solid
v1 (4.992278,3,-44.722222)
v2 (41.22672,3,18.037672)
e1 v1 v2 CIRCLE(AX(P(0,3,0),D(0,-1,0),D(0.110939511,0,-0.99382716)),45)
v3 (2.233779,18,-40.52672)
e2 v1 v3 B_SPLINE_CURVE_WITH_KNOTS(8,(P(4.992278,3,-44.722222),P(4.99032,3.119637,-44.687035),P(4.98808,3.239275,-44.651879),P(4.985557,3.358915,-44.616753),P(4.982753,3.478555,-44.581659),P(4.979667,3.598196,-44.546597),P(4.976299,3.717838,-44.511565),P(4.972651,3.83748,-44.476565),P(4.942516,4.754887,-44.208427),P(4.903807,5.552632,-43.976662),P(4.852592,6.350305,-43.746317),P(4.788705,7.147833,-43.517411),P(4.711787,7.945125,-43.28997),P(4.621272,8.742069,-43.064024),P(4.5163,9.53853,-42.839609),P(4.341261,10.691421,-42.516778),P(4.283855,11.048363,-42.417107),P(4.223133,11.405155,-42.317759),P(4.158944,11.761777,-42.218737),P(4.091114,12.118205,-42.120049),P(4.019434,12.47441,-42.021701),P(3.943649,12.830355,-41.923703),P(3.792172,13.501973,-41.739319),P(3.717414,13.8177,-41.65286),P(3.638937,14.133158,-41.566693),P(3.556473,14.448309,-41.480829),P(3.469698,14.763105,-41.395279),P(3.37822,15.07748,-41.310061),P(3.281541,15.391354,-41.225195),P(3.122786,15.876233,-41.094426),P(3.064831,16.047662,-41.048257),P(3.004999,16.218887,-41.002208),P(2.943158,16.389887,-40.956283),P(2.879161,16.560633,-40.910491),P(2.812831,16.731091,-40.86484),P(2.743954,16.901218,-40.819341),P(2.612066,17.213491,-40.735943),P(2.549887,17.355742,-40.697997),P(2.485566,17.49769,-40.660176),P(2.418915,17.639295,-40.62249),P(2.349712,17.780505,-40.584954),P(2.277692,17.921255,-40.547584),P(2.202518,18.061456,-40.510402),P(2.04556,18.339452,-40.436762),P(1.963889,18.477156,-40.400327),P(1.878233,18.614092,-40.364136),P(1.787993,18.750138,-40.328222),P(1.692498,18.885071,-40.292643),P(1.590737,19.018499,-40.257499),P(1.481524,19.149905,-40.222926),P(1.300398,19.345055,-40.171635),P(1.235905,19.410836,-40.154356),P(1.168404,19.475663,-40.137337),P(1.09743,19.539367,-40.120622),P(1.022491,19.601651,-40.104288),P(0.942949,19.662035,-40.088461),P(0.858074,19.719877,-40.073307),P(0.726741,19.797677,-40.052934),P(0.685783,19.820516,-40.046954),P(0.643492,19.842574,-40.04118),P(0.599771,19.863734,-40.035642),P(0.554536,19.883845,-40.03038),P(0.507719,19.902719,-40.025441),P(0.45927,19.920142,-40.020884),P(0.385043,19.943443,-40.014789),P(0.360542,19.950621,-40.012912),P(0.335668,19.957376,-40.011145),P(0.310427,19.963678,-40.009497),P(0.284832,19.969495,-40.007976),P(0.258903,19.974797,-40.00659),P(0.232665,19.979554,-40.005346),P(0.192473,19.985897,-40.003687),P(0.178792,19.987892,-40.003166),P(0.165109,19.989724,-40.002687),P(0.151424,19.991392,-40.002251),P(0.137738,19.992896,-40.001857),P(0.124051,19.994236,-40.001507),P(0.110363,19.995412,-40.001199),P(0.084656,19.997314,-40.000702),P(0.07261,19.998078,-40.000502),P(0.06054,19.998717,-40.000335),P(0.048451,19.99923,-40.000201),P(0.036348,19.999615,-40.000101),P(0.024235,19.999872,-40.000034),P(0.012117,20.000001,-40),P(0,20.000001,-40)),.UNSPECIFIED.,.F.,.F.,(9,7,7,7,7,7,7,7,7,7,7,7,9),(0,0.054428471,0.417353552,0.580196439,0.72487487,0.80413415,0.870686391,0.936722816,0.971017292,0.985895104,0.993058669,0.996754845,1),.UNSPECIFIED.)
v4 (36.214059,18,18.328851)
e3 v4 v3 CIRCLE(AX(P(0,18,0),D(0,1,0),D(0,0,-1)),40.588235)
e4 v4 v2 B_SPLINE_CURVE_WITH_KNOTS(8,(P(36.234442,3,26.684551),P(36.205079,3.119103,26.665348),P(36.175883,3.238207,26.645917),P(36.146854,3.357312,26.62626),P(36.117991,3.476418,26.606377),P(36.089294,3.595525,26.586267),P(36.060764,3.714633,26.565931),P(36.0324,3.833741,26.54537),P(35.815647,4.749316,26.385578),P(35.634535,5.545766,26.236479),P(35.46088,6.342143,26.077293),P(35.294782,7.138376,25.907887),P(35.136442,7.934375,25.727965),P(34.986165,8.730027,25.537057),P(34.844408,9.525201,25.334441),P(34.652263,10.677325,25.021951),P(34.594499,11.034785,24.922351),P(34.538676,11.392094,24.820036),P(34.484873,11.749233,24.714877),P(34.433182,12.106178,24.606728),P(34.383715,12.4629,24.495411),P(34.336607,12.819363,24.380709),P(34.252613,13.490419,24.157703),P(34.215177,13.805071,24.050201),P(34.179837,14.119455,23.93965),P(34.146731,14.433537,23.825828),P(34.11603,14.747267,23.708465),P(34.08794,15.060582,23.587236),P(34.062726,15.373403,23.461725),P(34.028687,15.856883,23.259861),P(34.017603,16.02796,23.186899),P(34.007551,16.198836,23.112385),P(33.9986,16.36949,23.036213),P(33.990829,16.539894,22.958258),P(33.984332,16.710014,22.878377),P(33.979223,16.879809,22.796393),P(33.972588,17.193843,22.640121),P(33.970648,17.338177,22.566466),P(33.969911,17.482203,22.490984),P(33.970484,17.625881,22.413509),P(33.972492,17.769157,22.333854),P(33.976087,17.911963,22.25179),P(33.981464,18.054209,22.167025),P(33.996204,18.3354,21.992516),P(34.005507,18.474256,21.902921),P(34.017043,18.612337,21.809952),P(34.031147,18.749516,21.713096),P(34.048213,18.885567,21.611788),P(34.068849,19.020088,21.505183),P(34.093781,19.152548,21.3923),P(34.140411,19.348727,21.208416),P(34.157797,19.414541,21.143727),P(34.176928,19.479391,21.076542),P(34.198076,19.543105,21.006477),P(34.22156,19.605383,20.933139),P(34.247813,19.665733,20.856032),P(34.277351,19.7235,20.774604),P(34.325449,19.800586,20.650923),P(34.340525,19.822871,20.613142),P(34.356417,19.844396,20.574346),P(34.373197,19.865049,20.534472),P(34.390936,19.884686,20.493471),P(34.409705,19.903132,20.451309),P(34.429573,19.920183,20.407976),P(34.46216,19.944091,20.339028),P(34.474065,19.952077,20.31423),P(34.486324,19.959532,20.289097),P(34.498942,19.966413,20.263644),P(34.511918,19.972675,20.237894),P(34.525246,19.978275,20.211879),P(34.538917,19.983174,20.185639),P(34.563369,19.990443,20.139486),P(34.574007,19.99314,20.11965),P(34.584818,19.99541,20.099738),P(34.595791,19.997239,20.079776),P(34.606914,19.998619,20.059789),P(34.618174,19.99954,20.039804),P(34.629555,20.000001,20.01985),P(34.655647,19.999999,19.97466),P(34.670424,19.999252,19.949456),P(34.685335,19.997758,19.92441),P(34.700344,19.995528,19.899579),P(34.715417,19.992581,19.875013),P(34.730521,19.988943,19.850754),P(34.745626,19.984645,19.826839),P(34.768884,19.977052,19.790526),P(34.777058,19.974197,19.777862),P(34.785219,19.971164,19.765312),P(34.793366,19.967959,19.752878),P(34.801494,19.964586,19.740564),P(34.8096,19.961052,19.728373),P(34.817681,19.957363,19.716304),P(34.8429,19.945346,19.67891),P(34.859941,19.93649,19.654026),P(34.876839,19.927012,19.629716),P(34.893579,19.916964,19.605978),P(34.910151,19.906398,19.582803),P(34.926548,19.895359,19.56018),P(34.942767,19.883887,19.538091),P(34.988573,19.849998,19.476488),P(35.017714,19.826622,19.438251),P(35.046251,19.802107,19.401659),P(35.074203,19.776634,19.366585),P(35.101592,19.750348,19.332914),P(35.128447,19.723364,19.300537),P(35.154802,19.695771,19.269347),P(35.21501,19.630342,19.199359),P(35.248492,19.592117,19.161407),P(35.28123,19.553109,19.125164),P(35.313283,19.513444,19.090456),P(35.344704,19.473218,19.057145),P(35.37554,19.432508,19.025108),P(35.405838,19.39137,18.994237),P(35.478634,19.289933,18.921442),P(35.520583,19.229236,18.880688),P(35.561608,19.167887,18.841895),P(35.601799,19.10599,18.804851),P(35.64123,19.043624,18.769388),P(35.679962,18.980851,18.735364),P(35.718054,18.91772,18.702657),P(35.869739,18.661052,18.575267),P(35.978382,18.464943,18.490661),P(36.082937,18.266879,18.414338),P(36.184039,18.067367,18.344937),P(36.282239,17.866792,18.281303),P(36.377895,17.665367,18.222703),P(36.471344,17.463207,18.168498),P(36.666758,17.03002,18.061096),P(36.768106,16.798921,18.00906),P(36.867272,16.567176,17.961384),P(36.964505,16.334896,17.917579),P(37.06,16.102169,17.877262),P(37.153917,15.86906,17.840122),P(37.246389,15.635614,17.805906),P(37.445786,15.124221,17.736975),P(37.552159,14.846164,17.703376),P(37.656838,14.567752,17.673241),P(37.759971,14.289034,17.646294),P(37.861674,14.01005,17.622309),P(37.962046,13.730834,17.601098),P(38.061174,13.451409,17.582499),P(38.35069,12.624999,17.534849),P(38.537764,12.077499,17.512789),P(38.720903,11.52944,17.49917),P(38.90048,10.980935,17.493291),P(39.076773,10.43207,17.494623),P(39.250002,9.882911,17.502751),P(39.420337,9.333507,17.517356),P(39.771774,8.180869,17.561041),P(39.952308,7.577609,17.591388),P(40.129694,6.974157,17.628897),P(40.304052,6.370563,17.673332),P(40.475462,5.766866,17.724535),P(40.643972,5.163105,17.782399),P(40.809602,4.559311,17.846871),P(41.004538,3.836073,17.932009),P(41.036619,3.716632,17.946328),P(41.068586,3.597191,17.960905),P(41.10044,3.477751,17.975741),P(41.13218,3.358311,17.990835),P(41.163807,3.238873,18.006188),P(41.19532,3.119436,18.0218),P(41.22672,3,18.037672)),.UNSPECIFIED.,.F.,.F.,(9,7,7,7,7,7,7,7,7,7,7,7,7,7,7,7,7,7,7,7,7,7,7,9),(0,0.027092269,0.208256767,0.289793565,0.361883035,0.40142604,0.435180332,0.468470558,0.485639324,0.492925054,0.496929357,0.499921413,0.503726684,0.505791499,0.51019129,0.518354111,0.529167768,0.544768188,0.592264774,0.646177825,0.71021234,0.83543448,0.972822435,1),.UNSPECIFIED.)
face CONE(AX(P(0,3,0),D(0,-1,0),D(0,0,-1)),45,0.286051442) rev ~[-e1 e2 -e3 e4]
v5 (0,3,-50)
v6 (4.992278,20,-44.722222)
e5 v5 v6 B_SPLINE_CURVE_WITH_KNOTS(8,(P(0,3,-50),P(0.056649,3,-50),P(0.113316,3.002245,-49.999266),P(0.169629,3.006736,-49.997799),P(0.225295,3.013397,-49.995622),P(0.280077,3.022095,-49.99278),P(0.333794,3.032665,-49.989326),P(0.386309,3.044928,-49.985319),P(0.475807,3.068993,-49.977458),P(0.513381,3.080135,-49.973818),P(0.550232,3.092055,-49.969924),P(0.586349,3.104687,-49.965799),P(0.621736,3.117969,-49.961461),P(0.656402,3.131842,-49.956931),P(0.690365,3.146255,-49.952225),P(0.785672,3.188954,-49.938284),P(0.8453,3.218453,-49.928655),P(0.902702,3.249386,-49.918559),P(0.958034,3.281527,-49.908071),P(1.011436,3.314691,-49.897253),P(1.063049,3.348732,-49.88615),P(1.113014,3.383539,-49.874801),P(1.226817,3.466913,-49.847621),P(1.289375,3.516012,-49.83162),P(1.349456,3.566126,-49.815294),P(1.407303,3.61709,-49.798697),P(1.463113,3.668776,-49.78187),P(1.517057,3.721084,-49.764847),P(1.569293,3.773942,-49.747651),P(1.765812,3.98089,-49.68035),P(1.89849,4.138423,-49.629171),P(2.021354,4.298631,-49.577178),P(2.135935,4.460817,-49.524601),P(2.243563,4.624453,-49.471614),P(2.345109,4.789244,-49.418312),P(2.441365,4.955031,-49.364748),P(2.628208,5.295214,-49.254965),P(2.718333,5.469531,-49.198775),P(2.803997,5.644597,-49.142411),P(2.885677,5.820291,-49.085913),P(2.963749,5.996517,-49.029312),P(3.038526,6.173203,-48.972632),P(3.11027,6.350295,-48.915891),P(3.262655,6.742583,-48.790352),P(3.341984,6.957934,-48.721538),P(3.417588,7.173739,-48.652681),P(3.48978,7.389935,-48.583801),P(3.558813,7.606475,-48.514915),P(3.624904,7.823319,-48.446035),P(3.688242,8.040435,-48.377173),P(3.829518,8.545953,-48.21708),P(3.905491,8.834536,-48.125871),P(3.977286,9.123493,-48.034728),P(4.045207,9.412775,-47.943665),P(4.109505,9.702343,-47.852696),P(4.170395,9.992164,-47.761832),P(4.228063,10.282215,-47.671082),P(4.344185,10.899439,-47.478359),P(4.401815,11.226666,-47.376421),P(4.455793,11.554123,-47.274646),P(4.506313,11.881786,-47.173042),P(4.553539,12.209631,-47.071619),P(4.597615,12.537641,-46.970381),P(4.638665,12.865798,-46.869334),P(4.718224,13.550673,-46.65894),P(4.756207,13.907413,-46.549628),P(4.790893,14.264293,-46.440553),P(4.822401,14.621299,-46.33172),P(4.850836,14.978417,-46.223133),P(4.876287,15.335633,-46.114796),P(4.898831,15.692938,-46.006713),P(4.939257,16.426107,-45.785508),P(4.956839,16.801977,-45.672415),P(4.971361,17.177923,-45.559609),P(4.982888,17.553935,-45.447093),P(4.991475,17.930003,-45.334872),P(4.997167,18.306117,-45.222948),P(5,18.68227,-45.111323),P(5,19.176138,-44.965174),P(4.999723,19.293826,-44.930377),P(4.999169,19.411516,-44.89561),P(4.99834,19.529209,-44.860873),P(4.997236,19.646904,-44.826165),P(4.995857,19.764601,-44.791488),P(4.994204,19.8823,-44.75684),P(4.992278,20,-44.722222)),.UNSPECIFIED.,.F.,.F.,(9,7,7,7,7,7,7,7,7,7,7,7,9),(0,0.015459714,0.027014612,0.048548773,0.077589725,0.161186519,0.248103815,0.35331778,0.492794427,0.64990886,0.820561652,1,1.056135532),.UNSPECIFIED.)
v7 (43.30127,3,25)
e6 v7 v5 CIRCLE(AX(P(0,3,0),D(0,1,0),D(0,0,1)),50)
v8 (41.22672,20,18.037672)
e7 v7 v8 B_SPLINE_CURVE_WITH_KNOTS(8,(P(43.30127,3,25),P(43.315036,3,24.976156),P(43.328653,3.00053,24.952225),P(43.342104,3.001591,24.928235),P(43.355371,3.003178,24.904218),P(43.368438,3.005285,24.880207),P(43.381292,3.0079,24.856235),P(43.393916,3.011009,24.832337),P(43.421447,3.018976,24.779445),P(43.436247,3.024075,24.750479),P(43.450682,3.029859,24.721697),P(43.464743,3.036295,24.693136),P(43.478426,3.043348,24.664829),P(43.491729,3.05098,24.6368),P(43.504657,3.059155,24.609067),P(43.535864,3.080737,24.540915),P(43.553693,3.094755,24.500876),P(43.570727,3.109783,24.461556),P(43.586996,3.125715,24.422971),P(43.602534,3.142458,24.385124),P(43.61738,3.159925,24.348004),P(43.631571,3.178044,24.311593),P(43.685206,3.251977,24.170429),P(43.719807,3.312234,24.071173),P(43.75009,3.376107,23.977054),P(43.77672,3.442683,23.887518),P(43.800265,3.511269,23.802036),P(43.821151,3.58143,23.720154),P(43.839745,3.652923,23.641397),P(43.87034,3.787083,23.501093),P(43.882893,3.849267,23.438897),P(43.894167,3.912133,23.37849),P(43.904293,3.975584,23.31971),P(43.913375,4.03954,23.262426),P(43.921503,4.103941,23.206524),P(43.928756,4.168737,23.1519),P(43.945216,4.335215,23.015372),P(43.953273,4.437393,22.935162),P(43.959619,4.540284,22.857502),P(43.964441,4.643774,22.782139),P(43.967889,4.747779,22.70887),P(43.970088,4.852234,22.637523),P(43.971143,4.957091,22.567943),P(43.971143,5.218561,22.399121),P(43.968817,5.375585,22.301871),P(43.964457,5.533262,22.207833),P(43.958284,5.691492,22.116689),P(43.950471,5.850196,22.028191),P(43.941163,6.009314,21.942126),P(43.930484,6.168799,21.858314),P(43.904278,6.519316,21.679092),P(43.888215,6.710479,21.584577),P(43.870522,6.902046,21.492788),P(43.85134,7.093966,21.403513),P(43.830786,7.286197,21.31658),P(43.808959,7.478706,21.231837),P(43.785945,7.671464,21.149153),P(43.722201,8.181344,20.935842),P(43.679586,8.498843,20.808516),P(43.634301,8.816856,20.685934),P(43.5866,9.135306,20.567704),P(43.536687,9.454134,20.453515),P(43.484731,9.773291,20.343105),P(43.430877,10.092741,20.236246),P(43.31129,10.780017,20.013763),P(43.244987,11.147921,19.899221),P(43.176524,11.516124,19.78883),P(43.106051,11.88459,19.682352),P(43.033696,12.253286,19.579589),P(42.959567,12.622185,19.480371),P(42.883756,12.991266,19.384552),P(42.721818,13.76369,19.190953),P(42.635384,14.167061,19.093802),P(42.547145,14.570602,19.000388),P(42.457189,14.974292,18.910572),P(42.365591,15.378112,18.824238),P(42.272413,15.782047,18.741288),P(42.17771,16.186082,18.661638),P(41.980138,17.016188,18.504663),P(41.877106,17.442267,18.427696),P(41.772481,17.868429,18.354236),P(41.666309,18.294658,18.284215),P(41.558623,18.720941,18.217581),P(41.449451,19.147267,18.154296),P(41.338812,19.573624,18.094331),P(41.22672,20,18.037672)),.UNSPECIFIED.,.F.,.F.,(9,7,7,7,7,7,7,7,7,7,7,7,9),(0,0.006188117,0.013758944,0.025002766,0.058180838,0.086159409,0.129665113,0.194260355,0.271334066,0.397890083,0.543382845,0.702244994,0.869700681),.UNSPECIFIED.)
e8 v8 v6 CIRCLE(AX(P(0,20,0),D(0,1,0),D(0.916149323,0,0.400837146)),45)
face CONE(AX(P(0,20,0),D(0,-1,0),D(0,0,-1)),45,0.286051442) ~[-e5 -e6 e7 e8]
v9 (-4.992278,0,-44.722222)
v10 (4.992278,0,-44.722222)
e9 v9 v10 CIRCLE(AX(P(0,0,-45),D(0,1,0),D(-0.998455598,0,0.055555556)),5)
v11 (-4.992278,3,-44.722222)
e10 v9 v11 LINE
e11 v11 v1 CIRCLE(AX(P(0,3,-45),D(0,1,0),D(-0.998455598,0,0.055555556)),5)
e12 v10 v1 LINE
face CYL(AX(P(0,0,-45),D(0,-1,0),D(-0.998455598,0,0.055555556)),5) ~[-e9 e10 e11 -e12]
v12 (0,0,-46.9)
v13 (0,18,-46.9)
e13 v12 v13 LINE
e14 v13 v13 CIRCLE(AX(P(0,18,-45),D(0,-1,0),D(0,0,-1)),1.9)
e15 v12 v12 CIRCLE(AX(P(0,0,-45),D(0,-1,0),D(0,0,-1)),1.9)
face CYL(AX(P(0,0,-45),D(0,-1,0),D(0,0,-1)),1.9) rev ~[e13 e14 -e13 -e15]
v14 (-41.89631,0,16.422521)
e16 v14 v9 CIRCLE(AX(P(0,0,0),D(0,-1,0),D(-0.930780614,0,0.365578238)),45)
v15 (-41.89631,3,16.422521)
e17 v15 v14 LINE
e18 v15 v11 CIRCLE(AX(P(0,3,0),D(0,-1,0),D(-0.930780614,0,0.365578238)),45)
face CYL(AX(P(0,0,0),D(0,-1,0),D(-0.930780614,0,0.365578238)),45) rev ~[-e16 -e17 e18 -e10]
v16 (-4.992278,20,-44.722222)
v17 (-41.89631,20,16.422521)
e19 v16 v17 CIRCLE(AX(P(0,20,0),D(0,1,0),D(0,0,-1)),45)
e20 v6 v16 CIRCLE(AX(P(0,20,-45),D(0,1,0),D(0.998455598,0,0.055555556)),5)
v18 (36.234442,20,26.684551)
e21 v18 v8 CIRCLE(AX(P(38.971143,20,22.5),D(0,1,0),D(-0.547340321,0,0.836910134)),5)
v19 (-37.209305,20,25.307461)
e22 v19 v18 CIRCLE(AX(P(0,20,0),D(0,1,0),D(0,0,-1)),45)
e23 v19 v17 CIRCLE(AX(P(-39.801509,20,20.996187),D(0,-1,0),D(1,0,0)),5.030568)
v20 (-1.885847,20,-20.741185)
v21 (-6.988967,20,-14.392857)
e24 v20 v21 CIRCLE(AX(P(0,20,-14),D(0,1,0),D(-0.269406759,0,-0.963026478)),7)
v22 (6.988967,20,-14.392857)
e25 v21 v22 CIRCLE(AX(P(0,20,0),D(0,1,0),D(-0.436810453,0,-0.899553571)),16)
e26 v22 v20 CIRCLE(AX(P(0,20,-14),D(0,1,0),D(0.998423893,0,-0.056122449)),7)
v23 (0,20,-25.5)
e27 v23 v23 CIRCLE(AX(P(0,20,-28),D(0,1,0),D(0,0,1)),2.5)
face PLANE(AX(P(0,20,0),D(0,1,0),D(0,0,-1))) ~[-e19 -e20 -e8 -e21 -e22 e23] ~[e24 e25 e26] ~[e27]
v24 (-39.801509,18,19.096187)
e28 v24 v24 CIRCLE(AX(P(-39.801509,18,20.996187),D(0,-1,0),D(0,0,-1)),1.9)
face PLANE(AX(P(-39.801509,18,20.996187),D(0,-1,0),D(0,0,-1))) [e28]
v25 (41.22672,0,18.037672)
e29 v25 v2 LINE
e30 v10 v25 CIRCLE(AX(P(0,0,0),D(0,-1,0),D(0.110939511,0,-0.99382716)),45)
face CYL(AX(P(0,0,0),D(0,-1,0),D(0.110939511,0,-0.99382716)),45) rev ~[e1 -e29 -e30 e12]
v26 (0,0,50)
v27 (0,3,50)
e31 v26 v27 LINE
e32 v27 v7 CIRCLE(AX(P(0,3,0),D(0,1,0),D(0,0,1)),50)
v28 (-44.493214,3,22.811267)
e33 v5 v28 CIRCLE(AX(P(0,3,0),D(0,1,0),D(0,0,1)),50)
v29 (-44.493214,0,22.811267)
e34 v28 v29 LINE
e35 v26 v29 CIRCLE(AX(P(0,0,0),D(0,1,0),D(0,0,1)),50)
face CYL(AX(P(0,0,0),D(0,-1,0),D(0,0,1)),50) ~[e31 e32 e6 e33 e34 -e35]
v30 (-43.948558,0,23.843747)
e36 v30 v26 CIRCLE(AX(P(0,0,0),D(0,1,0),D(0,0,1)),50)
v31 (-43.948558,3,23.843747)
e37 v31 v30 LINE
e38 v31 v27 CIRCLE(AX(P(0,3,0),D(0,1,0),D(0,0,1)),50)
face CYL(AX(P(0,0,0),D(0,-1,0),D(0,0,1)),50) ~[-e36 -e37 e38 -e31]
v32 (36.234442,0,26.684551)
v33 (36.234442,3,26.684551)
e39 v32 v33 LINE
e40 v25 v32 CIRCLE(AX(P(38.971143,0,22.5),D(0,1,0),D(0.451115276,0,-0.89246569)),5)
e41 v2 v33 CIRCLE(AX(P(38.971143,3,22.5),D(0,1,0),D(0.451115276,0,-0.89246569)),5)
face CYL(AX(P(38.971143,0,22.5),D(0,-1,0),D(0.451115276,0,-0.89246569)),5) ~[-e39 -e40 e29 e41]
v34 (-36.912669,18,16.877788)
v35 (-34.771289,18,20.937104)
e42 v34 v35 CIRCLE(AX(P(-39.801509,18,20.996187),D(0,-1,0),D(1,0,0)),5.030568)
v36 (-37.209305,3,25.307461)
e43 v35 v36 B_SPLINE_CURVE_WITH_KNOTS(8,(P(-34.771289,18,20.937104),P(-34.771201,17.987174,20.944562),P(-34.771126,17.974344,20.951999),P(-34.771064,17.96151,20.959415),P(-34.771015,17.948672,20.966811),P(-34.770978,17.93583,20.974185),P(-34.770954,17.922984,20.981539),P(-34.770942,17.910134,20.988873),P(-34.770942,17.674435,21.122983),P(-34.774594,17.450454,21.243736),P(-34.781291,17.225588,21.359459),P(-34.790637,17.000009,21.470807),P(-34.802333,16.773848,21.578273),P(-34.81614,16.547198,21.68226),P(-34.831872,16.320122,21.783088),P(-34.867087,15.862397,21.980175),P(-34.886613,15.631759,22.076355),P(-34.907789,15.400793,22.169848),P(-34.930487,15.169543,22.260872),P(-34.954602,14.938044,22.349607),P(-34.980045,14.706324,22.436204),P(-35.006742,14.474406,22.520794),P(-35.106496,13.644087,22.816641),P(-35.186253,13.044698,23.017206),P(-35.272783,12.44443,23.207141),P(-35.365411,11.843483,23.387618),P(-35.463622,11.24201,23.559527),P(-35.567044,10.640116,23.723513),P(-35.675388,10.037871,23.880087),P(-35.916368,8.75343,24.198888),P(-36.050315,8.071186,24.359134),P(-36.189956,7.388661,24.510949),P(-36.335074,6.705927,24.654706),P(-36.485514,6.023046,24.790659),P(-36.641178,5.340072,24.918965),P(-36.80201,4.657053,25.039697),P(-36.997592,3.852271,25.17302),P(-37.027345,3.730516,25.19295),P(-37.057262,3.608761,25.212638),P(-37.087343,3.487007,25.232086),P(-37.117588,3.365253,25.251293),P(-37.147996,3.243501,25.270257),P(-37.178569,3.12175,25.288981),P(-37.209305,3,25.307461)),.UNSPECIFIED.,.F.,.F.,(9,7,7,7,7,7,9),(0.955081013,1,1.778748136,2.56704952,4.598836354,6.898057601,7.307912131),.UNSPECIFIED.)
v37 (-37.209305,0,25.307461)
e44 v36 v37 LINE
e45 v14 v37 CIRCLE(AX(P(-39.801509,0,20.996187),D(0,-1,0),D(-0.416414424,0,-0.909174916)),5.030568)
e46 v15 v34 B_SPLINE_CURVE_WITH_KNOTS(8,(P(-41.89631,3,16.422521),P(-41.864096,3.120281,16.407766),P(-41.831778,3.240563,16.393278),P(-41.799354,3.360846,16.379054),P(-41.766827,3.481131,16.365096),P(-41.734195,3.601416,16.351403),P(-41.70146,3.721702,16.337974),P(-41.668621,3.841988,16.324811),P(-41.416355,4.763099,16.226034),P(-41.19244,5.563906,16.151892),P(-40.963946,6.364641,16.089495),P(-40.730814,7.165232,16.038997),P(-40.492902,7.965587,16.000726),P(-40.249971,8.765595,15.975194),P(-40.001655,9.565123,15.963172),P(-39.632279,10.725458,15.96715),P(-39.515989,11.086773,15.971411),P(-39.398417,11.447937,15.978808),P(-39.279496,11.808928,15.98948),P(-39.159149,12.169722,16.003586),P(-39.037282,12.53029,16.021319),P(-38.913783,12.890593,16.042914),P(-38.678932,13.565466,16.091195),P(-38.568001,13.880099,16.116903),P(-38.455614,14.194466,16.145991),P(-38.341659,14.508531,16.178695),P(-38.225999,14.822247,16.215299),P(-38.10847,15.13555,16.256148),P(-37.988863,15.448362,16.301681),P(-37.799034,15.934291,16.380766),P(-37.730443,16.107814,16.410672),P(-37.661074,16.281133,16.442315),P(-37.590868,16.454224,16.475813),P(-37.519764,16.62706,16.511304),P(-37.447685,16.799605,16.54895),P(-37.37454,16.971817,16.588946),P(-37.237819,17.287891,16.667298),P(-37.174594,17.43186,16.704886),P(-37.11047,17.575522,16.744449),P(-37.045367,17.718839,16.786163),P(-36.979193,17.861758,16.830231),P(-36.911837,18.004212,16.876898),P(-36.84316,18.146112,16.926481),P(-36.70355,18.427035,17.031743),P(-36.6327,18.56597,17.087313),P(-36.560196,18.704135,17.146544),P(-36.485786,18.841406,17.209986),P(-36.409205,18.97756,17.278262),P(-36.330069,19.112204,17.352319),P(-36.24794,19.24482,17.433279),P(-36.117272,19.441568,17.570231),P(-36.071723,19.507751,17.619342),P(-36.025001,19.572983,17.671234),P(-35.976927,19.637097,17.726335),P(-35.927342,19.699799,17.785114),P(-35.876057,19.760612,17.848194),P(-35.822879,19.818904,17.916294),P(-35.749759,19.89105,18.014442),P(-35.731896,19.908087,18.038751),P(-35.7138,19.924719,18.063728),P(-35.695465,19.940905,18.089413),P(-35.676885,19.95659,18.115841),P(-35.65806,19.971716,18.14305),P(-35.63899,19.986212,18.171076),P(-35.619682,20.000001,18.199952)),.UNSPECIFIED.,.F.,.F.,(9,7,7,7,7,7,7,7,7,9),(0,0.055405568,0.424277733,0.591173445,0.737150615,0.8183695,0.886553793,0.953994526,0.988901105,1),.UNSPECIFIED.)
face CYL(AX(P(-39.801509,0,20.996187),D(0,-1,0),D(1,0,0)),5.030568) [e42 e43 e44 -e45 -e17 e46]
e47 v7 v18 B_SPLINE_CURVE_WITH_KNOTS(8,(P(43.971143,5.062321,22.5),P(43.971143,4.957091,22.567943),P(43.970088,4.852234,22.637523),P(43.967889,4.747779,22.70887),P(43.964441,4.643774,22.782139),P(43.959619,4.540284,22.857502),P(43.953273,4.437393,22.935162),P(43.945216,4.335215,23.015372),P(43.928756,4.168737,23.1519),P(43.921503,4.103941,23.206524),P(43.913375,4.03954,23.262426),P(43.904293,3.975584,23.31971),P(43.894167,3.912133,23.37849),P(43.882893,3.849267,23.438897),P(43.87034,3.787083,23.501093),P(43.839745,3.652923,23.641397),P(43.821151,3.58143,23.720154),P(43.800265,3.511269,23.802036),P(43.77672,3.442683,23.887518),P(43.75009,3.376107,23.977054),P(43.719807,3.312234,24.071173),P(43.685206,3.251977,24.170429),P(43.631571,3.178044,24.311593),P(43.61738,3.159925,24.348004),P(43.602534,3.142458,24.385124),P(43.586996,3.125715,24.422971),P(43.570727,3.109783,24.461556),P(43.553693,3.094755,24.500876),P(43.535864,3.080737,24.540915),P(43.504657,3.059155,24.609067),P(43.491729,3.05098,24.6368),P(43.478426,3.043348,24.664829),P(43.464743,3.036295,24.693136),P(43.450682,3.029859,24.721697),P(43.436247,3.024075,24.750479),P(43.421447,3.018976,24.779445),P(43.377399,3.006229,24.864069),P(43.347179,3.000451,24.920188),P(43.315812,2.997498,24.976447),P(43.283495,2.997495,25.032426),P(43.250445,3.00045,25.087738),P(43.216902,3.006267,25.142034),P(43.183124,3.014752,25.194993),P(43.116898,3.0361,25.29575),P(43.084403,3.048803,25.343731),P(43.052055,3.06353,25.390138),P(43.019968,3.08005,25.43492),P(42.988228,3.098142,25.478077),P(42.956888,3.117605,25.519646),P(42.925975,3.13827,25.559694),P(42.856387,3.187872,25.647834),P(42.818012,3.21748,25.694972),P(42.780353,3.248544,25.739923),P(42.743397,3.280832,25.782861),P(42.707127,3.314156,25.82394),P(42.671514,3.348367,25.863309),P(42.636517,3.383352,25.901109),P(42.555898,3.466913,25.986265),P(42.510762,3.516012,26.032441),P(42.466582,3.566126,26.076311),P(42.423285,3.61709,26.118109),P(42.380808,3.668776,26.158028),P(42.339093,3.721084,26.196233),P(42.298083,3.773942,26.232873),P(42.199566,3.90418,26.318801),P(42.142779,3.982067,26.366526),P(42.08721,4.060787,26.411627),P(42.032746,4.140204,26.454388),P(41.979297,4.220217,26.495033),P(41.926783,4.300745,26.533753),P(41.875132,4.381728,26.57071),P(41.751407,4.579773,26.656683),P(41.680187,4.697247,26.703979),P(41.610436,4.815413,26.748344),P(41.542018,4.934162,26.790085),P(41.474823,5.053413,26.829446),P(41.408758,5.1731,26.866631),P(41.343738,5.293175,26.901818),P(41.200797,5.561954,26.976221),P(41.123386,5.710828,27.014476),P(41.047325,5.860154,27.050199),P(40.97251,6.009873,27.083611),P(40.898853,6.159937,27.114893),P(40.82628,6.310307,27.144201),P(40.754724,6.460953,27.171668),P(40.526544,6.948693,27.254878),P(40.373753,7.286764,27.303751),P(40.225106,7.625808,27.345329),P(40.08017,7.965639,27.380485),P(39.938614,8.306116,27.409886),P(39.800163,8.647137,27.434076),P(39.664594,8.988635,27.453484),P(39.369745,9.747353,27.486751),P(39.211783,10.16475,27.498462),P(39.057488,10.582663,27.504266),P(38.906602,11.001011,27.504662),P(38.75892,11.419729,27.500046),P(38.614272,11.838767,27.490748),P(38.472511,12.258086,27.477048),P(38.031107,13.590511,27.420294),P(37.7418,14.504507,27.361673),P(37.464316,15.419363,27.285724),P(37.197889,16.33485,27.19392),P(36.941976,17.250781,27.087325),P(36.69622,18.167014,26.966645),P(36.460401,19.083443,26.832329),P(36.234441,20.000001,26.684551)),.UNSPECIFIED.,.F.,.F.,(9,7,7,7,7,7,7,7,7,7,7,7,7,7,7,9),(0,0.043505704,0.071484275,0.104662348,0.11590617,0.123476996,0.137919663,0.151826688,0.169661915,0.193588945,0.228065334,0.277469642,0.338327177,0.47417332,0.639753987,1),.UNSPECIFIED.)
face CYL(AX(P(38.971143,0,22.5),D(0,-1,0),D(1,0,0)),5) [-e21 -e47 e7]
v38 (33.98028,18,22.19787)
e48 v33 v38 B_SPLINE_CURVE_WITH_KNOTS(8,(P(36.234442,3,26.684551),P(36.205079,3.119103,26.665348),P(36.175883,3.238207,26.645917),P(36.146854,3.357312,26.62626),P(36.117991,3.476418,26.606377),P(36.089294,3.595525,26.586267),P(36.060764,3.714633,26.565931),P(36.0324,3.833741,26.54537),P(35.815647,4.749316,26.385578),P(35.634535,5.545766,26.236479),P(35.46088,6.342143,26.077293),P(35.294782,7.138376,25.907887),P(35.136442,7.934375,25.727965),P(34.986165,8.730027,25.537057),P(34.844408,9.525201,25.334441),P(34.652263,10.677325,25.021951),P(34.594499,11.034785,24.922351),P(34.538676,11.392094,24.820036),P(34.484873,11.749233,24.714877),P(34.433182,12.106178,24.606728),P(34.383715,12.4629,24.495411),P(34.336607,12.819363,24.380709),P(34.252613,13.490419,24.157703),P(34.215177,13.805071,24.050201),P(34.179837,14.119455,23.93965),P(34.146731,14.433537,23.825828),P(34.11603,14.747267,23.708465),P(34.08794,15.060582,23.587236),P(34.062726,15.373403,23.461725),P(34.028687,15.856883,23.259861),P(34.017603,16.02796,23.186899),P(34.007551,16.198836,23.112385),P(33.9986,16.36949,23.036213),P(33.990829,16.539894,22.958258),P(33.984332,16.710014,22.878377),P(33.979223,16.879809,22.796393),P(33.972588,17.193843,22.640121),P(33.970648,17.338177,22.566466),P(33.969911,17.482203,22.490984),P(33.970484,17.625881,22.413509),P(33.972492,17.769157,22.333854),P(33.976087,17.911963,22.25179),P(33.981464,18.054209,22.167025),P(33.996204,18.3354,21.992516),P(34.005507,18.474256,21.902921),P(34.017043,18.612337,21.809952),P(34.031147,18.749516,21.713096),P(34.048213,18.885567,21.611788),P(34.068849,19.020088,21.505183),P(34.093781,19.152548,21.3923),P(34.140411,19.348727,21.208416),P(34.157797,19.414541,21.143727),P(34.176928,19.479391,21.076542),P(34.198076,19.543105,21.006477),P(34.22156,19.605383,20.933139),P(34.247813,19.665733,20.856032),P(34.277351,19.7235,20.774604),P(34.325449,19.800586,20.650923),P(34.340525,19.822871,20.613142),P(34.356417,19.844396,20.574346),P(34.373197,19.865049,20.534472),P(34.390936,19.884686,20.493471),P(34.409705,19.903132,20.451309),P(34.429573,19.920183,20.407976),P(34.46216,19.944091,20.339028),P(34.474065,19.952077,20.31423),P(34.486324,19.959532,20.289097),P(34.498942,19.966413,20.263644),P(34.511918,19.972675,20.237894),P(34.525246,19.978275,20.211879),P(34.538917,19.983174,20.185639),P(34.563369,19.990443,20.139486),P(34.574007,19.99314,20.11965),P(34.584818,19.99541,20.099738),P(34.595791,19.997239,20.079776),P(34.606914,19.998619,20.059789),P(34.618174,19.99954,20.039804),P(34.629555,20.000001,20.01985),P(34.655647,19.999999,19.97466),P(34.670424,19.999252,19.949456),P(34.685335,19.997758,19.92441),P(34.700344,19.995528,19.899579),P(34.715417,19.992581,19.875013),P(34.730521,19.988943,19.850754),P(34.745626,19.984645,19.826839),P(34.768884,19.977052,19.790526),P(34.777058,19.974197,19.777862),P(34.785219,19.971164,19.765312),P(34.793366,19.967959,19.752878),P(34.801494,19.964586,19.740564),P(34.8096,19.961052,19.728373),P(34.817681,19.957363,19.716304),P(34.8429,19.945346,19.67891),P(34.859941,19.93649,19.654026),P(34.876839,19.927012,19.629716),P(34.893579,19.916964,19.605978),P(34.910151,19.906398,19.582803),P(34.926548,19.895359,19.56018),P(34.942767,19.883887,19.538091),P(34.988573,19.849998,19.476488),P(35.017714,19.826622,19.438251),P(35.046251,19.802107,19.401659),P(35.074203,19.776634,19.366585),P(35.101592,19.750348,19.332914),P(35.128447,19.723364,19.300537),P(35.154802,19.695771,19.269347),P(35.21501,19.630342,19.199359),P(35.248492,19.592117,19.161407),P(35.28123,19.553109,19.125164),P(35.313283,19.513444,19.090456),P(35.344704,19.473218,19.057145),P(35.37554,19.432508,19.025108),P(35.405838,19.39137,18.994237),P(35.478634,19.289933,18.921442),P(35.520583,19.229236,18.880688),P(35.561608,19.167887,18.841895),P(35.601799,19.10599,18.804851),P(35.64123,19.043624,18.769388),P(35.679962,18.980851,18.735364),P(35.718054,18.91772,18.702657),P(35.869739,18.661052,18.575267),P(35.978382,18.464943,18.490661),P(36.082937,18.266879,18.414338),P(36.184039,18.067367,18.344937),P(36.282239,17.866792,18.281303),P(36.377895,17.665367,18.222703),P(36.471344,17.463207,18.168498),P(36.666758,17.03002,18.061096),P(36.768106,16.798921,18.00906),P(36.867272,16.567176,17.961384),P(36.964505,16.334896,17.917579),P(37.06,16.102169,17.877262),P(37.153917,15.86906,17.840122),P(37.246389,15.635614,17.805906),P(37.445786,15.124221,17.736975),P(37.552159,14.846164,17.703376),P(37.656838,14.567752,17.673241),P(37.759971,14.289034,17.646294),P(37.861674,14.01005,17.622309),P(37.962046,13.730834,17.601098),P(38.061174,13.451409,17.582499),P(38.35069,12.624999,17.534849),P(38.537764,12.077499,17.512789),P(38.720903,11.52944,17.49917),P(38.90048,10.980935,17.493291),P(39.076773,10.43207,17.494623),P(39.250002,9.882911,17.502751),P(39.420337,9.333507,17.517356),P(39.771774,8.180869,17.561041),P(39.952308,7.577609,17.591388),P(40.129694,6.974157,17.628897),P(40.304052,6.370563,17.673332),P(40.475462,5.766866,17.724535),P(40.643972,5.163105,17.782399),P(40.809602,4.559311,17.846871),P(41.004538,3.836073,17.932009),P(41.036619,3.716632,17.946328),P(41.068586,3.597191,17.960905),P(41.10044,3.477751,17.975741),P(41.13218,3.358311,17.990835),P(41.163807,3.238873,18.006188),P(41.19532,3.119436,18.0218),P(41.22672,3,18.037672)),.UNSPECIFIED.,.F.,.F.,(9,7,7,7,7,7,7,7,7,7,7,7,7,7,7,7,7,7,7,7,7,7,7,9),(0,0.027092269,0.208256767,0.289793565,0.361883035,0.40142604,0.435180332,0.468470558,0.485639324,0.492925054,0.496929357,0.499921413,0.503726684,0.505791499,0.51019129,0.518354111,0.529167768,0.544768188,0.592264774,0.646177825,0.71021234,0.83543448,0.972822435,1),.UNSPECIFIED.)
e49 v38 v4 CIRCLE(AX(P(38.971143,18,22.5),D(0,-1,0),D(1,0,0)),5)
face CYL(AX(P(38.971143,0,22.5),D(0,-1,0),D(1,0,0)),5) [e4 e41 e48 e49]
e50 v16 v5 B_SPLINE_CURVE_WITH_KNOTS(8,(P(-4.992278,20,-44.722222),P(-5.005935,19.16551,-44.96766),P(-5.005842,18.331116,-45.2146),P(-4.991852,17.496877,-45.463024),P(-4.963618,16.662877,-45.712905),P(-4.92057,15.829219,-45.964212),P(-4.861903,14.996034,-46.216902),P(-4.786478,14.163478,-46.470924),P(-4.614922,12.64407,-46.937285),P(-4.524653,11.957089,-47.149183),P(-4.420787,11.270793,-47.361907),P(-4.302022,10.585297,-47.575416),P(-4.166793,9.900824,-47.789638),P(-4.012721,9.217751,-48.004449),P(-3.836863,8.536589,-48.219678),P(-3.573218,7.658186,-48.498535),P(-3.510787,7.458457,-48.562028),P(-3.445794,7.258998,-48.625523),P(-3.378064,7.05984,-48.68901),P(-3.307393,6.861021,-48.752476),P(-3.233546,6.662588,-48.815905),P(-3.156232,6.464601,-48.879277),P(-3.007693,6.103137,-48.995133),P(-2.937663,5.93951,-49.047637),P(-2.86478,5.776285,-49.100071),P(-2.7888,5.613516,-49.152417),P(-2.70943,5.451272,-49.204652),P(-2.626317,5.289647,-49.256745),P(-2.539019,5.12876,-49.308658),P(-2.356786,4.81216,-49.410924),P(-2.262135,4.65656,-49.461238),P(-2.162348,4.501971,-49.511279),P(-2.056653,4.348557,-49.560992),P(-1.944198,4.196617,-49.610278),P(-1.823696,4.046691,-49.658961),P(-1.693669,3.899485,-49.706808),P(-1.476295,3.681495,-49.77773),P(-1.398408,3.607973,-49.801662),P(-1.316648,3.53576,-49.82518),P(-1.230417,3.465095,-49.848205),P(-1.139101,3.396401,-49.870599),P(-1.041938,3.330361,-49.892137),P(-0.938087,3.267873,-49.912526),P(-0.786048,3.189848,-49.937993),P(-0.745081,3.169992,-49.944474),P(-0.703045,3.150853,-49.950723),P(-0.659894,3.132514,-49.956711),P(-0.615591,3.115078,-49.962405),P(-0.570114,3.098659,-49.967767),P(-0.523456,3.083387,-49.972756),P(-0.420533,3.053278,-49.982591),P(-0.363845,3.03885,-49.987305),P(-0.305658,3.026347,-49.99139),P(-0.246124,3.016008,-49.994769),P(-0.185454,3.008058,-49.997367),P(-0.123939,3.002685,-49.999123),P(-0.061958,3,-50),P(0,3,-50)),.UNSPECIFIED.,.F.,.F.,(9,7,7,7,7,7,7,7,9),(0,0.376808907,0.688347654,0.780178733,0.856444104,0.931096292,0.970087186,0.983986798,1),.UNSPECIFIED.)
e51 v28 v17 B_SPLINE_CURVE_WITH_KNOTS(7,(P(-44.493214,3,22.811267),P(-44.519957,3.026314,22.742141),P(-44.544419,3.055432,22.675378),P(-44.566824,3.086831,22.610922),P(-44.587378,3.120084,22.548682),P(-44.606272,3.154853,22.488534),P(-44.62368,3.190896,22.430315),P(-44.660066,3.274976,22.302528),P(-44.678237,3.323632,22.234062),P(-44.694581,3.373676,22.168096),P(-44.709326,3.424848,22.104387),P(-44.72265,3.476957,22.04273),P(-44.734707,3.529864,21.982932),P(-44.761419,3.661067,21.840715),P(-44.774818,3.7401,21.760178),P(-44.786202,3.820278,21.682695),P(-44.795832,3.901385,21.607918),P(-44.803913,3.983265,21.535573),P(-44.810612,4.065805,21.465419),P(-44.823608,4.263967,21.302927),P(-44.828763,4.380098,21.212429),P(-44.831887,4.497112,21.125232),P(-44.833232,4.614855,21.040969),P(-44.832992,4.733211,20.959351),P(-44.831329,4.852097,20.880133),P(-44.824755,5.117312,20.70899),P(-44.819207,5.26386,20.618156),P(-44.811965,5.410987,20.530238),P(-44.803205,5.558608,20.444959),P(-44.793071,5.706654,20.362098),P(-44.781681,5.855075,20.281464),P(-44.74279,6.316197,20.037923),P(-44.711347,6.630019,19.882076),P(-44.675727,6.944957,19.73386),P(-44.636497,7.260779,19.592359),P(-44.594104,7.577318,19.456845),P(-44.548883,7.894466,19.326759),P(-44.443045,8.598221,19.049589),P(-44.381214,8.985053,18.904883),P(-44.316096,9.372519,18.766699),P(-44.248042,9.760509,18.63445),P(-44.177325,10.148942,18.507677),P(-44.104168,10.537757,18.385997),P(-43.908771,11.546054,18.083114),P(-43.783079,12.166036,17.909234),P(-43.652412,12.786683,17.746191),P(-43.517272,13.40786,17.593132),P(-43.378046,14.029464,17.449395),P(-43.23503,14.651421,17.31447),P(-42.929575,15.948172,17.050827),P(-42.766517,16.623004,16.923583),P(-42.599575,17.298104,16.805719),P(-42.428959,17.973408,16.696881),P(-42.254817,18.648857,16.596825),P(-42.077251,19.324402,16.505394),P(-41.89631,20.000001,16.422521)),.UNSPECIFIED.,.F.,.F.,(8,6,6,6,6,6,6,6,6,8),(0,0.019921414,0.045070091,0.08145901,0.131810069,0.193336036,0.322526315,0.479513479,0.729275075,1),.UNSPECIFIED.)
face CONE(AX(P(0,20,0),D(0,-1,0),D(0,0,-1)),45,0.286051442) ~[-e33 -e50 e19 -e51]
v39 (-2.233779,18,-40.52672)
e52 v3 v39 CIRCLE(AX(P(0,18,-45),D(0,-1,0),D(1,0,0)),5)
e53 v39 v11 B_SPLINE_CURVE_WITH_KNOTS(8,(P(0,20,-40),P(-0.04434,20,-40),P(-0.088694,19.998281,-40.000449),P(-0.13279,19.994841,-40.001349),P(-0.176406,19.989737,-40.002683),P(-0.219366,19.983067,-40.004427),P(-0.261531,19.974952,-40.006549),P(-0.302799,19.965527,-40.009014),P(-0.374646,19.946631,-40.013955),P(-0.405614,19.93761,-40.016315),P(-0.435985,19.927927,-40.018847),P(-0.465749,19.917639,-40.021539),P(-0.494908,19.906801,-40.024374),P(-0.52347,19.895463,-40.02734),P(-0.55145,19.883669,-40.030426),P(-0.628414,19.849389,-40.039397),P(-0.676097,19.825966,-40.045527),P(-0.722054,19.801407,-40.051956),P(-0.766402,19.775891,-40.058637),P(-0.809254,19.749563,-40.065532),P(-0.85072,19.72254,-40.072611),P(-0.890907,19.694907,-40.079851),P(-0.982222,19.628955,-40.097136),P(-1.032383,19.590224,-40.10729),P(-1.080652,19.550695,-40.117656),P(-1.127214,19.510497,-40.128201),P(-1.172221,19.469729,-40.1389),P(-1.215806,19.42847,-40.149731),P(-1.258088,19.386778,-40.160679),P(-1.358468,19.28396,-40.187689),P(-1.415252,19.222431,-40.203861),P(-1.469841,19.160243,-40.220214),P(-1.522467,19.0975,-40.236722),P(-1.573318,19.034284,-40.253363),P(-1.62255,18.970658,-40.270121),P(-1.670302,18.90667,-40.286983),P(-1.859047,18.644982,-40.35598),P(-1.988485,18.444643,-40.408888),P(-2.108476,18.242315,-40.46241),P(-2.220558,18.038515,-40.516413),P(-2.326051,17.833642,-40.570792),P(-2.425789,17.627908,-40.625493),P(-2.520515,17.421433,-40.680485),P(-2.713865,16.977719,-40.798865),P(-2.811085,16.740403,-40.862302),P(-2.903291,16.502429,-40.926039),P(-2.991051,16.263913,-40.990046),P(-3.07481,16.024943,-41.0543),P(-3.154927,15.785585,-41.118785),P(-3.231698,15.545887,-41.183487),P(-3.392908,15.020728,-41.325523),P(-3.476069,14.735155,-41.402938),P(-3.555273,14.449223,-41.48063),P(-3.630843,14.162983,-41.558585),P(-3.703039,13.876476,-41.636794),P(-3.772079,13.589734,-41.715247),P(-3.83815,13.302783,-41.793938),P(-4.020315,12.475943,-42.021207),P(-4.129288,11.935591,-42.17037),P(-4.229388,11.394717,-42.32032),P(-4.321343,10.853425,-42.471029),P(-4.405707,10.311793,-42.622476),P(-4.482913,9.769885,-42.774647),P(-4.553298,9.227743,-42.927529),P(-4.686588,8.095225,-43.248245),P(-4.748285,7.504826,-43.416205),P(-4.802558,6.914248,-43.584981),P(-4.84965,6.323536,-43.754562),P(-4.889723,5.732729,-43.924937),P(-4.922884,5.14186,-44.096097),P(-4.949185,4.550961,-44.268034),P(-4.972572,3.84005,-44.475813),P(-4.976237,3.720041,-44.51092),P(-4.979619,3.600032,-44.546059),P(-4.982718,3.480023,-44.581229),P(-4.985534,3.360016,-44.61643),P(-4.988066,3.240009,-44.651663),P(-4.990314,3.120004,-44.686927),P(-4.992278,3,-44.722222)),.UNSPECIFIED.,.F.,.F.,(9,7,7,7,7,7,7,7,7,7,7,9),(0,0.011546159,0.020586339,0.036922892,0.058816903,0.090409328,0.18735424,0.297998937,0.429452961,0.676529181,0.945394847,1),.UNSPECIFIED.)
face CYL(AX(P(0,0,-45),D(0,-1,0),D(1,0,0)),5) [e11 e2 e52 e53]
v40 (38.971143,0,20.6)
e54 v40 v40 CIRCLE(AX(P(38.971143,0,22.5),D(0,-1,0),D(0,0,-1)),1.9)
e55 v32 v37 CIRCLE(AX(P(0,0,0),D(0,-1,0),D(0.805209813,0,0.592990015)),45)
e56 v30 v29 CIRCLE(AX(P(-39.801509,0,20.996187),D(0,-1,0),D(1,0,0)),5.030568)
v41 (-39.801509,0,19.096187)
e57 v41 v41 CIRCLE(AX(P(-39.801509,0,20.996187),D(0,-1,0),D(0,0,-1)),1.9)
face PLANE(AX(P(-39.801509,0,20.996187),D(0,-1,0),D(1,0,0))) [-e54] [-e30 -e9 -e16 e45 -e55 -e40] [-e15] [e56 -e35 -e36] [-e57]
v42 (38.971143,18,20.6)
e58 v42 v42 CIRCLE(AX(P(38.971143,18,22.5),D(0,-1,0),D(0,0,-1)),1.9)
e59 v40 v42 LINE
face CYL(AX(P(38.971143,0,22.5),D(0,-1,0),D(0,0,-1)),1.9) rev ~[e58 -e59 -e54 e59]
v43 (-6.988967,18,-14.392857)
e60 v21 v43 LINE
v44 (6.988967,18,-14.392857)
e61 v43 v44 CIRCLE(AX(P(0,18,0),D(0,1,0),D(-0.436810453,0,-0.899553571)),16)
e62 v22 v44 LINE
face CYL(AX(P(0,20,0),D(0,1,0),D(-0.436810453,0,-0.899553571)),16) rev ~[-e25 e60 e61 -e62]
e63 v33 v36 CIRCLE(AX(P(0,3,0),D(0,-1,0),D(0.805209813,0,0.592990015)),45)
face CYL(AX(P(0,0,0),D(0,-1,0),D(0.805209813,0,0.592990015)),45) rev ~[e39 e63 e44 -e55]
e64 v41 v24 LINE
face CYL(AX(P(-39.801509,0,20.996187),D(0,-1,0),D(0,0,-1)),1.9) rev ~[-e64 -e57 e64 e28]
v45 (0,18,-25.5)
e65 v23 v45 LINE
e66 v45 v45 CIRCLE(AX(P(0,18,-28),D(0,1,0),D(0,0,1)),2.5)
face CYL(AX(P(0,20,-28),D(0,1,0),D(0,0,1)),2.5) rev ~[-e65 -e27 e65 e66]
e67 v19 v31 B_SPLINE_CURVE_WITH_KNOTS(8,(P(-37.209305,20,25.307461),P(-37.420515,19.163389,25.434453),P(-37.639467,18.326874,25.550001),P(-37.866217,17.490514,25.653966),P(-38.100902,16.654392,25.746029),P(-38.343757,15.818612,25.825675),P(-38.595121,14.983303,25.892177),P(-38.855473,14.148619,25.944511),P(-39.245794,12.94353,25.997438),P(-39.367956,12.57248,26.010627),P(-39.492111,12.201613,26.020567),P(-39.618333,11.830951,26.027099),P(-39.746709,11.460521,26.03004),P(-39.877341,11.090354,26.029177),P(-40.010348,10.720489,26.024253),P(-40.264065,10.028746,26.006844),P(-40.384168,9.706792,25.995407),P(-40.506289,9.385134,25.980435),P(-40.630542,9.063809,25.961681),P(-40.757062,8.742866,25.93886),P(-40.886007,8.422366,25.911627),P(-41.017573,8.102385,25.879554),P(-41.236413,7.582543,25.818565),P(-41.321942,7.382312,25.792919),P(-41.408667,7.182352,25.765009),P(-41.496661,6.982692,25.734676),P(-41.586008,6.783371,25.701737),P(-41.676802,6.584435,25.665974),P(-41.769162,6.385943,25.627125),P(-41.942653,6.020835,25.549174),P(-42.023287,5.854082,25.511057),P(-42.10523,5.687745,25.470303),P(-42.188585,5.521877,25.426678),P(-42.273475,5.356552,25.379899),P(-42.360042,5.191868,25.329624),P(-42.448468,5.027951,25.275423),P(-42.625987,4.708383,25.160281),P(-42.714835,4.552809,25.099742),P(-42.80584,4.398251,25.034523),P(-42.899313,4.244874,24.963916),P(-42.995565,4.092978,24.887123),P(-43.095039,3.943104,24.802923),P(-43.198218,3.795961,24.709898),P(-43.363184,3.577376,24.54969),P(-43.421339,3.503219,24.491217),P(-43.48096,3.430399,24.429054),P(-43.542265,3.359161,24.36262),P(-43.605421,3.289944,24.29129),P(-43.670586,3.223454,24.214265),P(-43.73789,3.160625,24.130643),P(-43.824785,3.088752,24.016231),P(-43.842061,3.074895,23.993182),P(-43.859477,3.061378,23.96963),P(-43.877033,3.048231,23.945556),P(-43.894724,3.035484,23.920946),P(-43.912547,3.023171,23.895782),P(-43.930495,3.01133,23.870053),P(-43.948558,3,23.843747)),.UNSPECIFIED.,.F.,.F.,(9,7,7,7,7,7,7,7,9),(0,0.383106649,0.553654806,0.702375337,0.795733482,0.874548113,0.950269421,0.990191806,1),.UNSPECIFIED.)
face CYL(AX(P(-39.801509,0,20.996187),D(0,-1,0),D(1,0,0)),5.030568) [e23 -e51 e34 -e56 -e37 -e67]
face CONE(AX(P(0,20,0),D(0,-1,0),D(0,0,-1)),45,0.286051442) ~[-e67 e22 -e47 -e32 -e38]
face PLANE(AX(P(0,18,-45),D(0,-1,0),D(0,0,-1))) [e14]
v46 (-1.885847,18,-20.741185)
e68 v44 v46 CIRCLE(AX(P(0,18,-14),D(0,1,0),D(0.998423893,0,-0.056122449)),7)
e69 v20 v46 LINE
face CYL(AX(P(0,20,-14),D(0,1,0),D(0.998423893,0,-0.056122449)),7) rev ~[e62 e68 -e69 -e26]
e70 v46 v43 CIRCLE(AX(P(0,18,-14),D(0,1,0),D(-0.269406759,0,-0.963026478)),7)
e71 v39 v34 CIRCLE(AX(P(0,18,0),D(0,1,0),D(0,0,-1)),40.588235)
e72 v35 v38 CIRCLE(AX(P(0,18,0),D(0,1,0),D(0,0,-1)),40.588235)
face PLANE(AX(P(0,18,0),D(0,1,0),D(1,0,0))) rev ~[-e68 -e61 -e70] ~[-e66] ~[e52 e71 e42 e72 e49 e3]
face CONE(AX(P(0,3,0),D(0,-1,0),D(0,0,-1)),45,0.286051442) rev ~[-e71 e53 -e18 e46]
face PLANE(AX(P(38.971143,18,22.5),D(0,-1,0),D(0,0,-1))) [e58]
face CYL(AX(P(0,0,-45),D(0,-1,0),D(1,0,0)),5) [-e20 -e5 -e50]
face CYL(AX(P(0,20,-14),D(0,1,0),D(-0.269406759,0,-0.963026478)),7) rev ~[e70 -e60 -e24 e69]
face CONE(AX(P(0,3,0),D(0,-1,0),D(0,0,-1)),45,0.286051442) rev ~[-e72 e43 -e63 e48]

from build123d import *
from build123d.topology import SkipClean

# Parameters (mm, degrees)
SKIZZE1_R                       = 50
AUFSATZ_LINEAR_AUSTRAGEN1_DEPTH = 3
SKIZZE7_R                       = 5.030567549
SKIZZE7_R_2                     = 5
AUFSATZ_LINEAR_AUSTRAGEN4_DEPTH = 20
AUFSATZ_LINEAR_START            = -2
SKIZZE8_R                       = 45
AUFSATZ_LINEAR_AUSTRAGEN5_DEPTH = 2
SKIZZE9_R                       = 2.5
SCHNITT_LINEAR_AUSTRAGEN1_DEPTH = 2
SKIZZE10_R                      = 1.9
SCHNITT_LINEAR_AUSTRAGEN2_DEPTH = 18


with BuildPart() as part:
    # Skizze1 → Aufsatz-Linear austragen1 (new body)
    with BuildSketch(Plane(origin=(0, 0, 0), x_dir=(1, 0, 0), z_dir=(0, 1, 0))):
        with Locations(Location((0, 0, 0), (0, 0, 270))):
            Circle(SKIZZE1_R)
        with BuildLine():
            ThreePointArc((-4.992277988, 44.722222222), (0, 40), (4.992277988, 44.722222222))
            ThreePointArc((4.992277988, 44.722222222), (38.97114317, 22.5), (41.226719552, -18.037671551))
            ThreePointArc((41.226719552, -18.037671551), (34.641016151, -20), (36.234441564, -26.684550671))
            ThreePointArc((36.234441564, -26.684550671), (-0.858918242, -44.991802136), (-37.226514275, -25.282140632))
            ThreePointArc((-37.226514275, -25.282140632), (-35.37911937, -18.663277112), (-41.88512765, -16.451020689))
            ThreePointArc((-41.88512765, -16.451020689), (-38.534584491, 23.239746085), (-4.992277988, 44.722222222))
        make_face(mode=Mode.SUBTRACT)
    extrude(amount=AUFSATZ_LINEAR_AUSTRAGEN1_DEPTH)

    # Skizze4 → Rotation1 (revolve)
    with BuildSketch(Plane.XY, mode=Mode.PRIVATE) as rotation1_sk:
        Polygon((-45, 20), (-50, 3), (-45, 3), (-40, 20), align=None)
    revolve(rotation1_sk.sketch.rotate(Axis((0, 0, 0), (0, 1, 0)), 270), axis=Axis((0, 0, 0), (0, 1, 0)))

    # Skizze7 → Aufsatz-Linear austragen4 (add)
    with SkipClean():  # the faces are left unmerged after this step: merging them gives an invalid solid
        with BuildSketch(Plane.XZ):
            with Locations((-39.801509292, 20.996186751)):
                Circle(SKIZZE7_R)
            with Locations((0, -45)):
                Circle(SKIZZE7_R_2)
            with Locations((38.97114317, 22.5)):
                Circle(SKIZZE7_R_2)
        extrude(amount=-AUFSATZ_LINEAR_AUSTRAGEN4_DEPTH)

    # Skizze8 → Aufsatz-Linear austragen5 (add)
    with BuildSketch(Plane(origin=(0, 20, 0), x_dir=(1, 0, 0), z_dir=(0, 1, 0)).offset(AUFSATZ_LINEAR_START)):
        Circle(SKIZZE8_R)
    extrude(amount=AUFSATZ_LINEAR_AUSTRAGEN5_DEPTH)

    # Skizze9 → Schnitt-Linear austragen1 (cut)
    with BuildSketch(Plane(origin=(0, 20, 0), x_dir=(1, 0, 0), z_dir=(0, 1, 0))):
        with BuildLine():
            ThreePointArc((-1.885847319, 20.741185347), (-5.455813521, 18.385669713), (-6.988967253, 14.392857143))
            ThreePointArc((-6.988967253, 14.392857143), (0, -16), (6.988967253, 14.392857143))
            ThreePointArc((6.988967253, 14.392857143), (4.072563813, 19.693349101), (-1.885847319, 20.741185347))
        make_face()
        with Locations(Location((0, 28, 0), (0, 0, 270))):
            Circle(SKIZZE9_R)
    extrude(amount=-SCHNITT_LINEAR_AUSTRAGEN1_DEPTH, mode=Mode.SUBTRACT)

    # Skizze10 → Schnitt-Linear austragen2 (cut)
    with BuildSketch(Plane.XZ):
        with Locations(Location((-39.801509292, 20.996186751, 0), (0, 0, 270))):
            Circle(SKIZZE10_R)
        with Locations(Location((38.97114317, 22.5, 0), (0, 0, 270))):
            Circle(SKIZZE10_R)
        with Locations(Location((0, -45, 0), (0, 0, 270))):
            Circle(SKIZZE10_R)
    extrude(amount=-SCHNITT_LINEAR_AUSTRAGEN2_DEPTH, mode=Mode.SUBTRACT)


solid = part.part
